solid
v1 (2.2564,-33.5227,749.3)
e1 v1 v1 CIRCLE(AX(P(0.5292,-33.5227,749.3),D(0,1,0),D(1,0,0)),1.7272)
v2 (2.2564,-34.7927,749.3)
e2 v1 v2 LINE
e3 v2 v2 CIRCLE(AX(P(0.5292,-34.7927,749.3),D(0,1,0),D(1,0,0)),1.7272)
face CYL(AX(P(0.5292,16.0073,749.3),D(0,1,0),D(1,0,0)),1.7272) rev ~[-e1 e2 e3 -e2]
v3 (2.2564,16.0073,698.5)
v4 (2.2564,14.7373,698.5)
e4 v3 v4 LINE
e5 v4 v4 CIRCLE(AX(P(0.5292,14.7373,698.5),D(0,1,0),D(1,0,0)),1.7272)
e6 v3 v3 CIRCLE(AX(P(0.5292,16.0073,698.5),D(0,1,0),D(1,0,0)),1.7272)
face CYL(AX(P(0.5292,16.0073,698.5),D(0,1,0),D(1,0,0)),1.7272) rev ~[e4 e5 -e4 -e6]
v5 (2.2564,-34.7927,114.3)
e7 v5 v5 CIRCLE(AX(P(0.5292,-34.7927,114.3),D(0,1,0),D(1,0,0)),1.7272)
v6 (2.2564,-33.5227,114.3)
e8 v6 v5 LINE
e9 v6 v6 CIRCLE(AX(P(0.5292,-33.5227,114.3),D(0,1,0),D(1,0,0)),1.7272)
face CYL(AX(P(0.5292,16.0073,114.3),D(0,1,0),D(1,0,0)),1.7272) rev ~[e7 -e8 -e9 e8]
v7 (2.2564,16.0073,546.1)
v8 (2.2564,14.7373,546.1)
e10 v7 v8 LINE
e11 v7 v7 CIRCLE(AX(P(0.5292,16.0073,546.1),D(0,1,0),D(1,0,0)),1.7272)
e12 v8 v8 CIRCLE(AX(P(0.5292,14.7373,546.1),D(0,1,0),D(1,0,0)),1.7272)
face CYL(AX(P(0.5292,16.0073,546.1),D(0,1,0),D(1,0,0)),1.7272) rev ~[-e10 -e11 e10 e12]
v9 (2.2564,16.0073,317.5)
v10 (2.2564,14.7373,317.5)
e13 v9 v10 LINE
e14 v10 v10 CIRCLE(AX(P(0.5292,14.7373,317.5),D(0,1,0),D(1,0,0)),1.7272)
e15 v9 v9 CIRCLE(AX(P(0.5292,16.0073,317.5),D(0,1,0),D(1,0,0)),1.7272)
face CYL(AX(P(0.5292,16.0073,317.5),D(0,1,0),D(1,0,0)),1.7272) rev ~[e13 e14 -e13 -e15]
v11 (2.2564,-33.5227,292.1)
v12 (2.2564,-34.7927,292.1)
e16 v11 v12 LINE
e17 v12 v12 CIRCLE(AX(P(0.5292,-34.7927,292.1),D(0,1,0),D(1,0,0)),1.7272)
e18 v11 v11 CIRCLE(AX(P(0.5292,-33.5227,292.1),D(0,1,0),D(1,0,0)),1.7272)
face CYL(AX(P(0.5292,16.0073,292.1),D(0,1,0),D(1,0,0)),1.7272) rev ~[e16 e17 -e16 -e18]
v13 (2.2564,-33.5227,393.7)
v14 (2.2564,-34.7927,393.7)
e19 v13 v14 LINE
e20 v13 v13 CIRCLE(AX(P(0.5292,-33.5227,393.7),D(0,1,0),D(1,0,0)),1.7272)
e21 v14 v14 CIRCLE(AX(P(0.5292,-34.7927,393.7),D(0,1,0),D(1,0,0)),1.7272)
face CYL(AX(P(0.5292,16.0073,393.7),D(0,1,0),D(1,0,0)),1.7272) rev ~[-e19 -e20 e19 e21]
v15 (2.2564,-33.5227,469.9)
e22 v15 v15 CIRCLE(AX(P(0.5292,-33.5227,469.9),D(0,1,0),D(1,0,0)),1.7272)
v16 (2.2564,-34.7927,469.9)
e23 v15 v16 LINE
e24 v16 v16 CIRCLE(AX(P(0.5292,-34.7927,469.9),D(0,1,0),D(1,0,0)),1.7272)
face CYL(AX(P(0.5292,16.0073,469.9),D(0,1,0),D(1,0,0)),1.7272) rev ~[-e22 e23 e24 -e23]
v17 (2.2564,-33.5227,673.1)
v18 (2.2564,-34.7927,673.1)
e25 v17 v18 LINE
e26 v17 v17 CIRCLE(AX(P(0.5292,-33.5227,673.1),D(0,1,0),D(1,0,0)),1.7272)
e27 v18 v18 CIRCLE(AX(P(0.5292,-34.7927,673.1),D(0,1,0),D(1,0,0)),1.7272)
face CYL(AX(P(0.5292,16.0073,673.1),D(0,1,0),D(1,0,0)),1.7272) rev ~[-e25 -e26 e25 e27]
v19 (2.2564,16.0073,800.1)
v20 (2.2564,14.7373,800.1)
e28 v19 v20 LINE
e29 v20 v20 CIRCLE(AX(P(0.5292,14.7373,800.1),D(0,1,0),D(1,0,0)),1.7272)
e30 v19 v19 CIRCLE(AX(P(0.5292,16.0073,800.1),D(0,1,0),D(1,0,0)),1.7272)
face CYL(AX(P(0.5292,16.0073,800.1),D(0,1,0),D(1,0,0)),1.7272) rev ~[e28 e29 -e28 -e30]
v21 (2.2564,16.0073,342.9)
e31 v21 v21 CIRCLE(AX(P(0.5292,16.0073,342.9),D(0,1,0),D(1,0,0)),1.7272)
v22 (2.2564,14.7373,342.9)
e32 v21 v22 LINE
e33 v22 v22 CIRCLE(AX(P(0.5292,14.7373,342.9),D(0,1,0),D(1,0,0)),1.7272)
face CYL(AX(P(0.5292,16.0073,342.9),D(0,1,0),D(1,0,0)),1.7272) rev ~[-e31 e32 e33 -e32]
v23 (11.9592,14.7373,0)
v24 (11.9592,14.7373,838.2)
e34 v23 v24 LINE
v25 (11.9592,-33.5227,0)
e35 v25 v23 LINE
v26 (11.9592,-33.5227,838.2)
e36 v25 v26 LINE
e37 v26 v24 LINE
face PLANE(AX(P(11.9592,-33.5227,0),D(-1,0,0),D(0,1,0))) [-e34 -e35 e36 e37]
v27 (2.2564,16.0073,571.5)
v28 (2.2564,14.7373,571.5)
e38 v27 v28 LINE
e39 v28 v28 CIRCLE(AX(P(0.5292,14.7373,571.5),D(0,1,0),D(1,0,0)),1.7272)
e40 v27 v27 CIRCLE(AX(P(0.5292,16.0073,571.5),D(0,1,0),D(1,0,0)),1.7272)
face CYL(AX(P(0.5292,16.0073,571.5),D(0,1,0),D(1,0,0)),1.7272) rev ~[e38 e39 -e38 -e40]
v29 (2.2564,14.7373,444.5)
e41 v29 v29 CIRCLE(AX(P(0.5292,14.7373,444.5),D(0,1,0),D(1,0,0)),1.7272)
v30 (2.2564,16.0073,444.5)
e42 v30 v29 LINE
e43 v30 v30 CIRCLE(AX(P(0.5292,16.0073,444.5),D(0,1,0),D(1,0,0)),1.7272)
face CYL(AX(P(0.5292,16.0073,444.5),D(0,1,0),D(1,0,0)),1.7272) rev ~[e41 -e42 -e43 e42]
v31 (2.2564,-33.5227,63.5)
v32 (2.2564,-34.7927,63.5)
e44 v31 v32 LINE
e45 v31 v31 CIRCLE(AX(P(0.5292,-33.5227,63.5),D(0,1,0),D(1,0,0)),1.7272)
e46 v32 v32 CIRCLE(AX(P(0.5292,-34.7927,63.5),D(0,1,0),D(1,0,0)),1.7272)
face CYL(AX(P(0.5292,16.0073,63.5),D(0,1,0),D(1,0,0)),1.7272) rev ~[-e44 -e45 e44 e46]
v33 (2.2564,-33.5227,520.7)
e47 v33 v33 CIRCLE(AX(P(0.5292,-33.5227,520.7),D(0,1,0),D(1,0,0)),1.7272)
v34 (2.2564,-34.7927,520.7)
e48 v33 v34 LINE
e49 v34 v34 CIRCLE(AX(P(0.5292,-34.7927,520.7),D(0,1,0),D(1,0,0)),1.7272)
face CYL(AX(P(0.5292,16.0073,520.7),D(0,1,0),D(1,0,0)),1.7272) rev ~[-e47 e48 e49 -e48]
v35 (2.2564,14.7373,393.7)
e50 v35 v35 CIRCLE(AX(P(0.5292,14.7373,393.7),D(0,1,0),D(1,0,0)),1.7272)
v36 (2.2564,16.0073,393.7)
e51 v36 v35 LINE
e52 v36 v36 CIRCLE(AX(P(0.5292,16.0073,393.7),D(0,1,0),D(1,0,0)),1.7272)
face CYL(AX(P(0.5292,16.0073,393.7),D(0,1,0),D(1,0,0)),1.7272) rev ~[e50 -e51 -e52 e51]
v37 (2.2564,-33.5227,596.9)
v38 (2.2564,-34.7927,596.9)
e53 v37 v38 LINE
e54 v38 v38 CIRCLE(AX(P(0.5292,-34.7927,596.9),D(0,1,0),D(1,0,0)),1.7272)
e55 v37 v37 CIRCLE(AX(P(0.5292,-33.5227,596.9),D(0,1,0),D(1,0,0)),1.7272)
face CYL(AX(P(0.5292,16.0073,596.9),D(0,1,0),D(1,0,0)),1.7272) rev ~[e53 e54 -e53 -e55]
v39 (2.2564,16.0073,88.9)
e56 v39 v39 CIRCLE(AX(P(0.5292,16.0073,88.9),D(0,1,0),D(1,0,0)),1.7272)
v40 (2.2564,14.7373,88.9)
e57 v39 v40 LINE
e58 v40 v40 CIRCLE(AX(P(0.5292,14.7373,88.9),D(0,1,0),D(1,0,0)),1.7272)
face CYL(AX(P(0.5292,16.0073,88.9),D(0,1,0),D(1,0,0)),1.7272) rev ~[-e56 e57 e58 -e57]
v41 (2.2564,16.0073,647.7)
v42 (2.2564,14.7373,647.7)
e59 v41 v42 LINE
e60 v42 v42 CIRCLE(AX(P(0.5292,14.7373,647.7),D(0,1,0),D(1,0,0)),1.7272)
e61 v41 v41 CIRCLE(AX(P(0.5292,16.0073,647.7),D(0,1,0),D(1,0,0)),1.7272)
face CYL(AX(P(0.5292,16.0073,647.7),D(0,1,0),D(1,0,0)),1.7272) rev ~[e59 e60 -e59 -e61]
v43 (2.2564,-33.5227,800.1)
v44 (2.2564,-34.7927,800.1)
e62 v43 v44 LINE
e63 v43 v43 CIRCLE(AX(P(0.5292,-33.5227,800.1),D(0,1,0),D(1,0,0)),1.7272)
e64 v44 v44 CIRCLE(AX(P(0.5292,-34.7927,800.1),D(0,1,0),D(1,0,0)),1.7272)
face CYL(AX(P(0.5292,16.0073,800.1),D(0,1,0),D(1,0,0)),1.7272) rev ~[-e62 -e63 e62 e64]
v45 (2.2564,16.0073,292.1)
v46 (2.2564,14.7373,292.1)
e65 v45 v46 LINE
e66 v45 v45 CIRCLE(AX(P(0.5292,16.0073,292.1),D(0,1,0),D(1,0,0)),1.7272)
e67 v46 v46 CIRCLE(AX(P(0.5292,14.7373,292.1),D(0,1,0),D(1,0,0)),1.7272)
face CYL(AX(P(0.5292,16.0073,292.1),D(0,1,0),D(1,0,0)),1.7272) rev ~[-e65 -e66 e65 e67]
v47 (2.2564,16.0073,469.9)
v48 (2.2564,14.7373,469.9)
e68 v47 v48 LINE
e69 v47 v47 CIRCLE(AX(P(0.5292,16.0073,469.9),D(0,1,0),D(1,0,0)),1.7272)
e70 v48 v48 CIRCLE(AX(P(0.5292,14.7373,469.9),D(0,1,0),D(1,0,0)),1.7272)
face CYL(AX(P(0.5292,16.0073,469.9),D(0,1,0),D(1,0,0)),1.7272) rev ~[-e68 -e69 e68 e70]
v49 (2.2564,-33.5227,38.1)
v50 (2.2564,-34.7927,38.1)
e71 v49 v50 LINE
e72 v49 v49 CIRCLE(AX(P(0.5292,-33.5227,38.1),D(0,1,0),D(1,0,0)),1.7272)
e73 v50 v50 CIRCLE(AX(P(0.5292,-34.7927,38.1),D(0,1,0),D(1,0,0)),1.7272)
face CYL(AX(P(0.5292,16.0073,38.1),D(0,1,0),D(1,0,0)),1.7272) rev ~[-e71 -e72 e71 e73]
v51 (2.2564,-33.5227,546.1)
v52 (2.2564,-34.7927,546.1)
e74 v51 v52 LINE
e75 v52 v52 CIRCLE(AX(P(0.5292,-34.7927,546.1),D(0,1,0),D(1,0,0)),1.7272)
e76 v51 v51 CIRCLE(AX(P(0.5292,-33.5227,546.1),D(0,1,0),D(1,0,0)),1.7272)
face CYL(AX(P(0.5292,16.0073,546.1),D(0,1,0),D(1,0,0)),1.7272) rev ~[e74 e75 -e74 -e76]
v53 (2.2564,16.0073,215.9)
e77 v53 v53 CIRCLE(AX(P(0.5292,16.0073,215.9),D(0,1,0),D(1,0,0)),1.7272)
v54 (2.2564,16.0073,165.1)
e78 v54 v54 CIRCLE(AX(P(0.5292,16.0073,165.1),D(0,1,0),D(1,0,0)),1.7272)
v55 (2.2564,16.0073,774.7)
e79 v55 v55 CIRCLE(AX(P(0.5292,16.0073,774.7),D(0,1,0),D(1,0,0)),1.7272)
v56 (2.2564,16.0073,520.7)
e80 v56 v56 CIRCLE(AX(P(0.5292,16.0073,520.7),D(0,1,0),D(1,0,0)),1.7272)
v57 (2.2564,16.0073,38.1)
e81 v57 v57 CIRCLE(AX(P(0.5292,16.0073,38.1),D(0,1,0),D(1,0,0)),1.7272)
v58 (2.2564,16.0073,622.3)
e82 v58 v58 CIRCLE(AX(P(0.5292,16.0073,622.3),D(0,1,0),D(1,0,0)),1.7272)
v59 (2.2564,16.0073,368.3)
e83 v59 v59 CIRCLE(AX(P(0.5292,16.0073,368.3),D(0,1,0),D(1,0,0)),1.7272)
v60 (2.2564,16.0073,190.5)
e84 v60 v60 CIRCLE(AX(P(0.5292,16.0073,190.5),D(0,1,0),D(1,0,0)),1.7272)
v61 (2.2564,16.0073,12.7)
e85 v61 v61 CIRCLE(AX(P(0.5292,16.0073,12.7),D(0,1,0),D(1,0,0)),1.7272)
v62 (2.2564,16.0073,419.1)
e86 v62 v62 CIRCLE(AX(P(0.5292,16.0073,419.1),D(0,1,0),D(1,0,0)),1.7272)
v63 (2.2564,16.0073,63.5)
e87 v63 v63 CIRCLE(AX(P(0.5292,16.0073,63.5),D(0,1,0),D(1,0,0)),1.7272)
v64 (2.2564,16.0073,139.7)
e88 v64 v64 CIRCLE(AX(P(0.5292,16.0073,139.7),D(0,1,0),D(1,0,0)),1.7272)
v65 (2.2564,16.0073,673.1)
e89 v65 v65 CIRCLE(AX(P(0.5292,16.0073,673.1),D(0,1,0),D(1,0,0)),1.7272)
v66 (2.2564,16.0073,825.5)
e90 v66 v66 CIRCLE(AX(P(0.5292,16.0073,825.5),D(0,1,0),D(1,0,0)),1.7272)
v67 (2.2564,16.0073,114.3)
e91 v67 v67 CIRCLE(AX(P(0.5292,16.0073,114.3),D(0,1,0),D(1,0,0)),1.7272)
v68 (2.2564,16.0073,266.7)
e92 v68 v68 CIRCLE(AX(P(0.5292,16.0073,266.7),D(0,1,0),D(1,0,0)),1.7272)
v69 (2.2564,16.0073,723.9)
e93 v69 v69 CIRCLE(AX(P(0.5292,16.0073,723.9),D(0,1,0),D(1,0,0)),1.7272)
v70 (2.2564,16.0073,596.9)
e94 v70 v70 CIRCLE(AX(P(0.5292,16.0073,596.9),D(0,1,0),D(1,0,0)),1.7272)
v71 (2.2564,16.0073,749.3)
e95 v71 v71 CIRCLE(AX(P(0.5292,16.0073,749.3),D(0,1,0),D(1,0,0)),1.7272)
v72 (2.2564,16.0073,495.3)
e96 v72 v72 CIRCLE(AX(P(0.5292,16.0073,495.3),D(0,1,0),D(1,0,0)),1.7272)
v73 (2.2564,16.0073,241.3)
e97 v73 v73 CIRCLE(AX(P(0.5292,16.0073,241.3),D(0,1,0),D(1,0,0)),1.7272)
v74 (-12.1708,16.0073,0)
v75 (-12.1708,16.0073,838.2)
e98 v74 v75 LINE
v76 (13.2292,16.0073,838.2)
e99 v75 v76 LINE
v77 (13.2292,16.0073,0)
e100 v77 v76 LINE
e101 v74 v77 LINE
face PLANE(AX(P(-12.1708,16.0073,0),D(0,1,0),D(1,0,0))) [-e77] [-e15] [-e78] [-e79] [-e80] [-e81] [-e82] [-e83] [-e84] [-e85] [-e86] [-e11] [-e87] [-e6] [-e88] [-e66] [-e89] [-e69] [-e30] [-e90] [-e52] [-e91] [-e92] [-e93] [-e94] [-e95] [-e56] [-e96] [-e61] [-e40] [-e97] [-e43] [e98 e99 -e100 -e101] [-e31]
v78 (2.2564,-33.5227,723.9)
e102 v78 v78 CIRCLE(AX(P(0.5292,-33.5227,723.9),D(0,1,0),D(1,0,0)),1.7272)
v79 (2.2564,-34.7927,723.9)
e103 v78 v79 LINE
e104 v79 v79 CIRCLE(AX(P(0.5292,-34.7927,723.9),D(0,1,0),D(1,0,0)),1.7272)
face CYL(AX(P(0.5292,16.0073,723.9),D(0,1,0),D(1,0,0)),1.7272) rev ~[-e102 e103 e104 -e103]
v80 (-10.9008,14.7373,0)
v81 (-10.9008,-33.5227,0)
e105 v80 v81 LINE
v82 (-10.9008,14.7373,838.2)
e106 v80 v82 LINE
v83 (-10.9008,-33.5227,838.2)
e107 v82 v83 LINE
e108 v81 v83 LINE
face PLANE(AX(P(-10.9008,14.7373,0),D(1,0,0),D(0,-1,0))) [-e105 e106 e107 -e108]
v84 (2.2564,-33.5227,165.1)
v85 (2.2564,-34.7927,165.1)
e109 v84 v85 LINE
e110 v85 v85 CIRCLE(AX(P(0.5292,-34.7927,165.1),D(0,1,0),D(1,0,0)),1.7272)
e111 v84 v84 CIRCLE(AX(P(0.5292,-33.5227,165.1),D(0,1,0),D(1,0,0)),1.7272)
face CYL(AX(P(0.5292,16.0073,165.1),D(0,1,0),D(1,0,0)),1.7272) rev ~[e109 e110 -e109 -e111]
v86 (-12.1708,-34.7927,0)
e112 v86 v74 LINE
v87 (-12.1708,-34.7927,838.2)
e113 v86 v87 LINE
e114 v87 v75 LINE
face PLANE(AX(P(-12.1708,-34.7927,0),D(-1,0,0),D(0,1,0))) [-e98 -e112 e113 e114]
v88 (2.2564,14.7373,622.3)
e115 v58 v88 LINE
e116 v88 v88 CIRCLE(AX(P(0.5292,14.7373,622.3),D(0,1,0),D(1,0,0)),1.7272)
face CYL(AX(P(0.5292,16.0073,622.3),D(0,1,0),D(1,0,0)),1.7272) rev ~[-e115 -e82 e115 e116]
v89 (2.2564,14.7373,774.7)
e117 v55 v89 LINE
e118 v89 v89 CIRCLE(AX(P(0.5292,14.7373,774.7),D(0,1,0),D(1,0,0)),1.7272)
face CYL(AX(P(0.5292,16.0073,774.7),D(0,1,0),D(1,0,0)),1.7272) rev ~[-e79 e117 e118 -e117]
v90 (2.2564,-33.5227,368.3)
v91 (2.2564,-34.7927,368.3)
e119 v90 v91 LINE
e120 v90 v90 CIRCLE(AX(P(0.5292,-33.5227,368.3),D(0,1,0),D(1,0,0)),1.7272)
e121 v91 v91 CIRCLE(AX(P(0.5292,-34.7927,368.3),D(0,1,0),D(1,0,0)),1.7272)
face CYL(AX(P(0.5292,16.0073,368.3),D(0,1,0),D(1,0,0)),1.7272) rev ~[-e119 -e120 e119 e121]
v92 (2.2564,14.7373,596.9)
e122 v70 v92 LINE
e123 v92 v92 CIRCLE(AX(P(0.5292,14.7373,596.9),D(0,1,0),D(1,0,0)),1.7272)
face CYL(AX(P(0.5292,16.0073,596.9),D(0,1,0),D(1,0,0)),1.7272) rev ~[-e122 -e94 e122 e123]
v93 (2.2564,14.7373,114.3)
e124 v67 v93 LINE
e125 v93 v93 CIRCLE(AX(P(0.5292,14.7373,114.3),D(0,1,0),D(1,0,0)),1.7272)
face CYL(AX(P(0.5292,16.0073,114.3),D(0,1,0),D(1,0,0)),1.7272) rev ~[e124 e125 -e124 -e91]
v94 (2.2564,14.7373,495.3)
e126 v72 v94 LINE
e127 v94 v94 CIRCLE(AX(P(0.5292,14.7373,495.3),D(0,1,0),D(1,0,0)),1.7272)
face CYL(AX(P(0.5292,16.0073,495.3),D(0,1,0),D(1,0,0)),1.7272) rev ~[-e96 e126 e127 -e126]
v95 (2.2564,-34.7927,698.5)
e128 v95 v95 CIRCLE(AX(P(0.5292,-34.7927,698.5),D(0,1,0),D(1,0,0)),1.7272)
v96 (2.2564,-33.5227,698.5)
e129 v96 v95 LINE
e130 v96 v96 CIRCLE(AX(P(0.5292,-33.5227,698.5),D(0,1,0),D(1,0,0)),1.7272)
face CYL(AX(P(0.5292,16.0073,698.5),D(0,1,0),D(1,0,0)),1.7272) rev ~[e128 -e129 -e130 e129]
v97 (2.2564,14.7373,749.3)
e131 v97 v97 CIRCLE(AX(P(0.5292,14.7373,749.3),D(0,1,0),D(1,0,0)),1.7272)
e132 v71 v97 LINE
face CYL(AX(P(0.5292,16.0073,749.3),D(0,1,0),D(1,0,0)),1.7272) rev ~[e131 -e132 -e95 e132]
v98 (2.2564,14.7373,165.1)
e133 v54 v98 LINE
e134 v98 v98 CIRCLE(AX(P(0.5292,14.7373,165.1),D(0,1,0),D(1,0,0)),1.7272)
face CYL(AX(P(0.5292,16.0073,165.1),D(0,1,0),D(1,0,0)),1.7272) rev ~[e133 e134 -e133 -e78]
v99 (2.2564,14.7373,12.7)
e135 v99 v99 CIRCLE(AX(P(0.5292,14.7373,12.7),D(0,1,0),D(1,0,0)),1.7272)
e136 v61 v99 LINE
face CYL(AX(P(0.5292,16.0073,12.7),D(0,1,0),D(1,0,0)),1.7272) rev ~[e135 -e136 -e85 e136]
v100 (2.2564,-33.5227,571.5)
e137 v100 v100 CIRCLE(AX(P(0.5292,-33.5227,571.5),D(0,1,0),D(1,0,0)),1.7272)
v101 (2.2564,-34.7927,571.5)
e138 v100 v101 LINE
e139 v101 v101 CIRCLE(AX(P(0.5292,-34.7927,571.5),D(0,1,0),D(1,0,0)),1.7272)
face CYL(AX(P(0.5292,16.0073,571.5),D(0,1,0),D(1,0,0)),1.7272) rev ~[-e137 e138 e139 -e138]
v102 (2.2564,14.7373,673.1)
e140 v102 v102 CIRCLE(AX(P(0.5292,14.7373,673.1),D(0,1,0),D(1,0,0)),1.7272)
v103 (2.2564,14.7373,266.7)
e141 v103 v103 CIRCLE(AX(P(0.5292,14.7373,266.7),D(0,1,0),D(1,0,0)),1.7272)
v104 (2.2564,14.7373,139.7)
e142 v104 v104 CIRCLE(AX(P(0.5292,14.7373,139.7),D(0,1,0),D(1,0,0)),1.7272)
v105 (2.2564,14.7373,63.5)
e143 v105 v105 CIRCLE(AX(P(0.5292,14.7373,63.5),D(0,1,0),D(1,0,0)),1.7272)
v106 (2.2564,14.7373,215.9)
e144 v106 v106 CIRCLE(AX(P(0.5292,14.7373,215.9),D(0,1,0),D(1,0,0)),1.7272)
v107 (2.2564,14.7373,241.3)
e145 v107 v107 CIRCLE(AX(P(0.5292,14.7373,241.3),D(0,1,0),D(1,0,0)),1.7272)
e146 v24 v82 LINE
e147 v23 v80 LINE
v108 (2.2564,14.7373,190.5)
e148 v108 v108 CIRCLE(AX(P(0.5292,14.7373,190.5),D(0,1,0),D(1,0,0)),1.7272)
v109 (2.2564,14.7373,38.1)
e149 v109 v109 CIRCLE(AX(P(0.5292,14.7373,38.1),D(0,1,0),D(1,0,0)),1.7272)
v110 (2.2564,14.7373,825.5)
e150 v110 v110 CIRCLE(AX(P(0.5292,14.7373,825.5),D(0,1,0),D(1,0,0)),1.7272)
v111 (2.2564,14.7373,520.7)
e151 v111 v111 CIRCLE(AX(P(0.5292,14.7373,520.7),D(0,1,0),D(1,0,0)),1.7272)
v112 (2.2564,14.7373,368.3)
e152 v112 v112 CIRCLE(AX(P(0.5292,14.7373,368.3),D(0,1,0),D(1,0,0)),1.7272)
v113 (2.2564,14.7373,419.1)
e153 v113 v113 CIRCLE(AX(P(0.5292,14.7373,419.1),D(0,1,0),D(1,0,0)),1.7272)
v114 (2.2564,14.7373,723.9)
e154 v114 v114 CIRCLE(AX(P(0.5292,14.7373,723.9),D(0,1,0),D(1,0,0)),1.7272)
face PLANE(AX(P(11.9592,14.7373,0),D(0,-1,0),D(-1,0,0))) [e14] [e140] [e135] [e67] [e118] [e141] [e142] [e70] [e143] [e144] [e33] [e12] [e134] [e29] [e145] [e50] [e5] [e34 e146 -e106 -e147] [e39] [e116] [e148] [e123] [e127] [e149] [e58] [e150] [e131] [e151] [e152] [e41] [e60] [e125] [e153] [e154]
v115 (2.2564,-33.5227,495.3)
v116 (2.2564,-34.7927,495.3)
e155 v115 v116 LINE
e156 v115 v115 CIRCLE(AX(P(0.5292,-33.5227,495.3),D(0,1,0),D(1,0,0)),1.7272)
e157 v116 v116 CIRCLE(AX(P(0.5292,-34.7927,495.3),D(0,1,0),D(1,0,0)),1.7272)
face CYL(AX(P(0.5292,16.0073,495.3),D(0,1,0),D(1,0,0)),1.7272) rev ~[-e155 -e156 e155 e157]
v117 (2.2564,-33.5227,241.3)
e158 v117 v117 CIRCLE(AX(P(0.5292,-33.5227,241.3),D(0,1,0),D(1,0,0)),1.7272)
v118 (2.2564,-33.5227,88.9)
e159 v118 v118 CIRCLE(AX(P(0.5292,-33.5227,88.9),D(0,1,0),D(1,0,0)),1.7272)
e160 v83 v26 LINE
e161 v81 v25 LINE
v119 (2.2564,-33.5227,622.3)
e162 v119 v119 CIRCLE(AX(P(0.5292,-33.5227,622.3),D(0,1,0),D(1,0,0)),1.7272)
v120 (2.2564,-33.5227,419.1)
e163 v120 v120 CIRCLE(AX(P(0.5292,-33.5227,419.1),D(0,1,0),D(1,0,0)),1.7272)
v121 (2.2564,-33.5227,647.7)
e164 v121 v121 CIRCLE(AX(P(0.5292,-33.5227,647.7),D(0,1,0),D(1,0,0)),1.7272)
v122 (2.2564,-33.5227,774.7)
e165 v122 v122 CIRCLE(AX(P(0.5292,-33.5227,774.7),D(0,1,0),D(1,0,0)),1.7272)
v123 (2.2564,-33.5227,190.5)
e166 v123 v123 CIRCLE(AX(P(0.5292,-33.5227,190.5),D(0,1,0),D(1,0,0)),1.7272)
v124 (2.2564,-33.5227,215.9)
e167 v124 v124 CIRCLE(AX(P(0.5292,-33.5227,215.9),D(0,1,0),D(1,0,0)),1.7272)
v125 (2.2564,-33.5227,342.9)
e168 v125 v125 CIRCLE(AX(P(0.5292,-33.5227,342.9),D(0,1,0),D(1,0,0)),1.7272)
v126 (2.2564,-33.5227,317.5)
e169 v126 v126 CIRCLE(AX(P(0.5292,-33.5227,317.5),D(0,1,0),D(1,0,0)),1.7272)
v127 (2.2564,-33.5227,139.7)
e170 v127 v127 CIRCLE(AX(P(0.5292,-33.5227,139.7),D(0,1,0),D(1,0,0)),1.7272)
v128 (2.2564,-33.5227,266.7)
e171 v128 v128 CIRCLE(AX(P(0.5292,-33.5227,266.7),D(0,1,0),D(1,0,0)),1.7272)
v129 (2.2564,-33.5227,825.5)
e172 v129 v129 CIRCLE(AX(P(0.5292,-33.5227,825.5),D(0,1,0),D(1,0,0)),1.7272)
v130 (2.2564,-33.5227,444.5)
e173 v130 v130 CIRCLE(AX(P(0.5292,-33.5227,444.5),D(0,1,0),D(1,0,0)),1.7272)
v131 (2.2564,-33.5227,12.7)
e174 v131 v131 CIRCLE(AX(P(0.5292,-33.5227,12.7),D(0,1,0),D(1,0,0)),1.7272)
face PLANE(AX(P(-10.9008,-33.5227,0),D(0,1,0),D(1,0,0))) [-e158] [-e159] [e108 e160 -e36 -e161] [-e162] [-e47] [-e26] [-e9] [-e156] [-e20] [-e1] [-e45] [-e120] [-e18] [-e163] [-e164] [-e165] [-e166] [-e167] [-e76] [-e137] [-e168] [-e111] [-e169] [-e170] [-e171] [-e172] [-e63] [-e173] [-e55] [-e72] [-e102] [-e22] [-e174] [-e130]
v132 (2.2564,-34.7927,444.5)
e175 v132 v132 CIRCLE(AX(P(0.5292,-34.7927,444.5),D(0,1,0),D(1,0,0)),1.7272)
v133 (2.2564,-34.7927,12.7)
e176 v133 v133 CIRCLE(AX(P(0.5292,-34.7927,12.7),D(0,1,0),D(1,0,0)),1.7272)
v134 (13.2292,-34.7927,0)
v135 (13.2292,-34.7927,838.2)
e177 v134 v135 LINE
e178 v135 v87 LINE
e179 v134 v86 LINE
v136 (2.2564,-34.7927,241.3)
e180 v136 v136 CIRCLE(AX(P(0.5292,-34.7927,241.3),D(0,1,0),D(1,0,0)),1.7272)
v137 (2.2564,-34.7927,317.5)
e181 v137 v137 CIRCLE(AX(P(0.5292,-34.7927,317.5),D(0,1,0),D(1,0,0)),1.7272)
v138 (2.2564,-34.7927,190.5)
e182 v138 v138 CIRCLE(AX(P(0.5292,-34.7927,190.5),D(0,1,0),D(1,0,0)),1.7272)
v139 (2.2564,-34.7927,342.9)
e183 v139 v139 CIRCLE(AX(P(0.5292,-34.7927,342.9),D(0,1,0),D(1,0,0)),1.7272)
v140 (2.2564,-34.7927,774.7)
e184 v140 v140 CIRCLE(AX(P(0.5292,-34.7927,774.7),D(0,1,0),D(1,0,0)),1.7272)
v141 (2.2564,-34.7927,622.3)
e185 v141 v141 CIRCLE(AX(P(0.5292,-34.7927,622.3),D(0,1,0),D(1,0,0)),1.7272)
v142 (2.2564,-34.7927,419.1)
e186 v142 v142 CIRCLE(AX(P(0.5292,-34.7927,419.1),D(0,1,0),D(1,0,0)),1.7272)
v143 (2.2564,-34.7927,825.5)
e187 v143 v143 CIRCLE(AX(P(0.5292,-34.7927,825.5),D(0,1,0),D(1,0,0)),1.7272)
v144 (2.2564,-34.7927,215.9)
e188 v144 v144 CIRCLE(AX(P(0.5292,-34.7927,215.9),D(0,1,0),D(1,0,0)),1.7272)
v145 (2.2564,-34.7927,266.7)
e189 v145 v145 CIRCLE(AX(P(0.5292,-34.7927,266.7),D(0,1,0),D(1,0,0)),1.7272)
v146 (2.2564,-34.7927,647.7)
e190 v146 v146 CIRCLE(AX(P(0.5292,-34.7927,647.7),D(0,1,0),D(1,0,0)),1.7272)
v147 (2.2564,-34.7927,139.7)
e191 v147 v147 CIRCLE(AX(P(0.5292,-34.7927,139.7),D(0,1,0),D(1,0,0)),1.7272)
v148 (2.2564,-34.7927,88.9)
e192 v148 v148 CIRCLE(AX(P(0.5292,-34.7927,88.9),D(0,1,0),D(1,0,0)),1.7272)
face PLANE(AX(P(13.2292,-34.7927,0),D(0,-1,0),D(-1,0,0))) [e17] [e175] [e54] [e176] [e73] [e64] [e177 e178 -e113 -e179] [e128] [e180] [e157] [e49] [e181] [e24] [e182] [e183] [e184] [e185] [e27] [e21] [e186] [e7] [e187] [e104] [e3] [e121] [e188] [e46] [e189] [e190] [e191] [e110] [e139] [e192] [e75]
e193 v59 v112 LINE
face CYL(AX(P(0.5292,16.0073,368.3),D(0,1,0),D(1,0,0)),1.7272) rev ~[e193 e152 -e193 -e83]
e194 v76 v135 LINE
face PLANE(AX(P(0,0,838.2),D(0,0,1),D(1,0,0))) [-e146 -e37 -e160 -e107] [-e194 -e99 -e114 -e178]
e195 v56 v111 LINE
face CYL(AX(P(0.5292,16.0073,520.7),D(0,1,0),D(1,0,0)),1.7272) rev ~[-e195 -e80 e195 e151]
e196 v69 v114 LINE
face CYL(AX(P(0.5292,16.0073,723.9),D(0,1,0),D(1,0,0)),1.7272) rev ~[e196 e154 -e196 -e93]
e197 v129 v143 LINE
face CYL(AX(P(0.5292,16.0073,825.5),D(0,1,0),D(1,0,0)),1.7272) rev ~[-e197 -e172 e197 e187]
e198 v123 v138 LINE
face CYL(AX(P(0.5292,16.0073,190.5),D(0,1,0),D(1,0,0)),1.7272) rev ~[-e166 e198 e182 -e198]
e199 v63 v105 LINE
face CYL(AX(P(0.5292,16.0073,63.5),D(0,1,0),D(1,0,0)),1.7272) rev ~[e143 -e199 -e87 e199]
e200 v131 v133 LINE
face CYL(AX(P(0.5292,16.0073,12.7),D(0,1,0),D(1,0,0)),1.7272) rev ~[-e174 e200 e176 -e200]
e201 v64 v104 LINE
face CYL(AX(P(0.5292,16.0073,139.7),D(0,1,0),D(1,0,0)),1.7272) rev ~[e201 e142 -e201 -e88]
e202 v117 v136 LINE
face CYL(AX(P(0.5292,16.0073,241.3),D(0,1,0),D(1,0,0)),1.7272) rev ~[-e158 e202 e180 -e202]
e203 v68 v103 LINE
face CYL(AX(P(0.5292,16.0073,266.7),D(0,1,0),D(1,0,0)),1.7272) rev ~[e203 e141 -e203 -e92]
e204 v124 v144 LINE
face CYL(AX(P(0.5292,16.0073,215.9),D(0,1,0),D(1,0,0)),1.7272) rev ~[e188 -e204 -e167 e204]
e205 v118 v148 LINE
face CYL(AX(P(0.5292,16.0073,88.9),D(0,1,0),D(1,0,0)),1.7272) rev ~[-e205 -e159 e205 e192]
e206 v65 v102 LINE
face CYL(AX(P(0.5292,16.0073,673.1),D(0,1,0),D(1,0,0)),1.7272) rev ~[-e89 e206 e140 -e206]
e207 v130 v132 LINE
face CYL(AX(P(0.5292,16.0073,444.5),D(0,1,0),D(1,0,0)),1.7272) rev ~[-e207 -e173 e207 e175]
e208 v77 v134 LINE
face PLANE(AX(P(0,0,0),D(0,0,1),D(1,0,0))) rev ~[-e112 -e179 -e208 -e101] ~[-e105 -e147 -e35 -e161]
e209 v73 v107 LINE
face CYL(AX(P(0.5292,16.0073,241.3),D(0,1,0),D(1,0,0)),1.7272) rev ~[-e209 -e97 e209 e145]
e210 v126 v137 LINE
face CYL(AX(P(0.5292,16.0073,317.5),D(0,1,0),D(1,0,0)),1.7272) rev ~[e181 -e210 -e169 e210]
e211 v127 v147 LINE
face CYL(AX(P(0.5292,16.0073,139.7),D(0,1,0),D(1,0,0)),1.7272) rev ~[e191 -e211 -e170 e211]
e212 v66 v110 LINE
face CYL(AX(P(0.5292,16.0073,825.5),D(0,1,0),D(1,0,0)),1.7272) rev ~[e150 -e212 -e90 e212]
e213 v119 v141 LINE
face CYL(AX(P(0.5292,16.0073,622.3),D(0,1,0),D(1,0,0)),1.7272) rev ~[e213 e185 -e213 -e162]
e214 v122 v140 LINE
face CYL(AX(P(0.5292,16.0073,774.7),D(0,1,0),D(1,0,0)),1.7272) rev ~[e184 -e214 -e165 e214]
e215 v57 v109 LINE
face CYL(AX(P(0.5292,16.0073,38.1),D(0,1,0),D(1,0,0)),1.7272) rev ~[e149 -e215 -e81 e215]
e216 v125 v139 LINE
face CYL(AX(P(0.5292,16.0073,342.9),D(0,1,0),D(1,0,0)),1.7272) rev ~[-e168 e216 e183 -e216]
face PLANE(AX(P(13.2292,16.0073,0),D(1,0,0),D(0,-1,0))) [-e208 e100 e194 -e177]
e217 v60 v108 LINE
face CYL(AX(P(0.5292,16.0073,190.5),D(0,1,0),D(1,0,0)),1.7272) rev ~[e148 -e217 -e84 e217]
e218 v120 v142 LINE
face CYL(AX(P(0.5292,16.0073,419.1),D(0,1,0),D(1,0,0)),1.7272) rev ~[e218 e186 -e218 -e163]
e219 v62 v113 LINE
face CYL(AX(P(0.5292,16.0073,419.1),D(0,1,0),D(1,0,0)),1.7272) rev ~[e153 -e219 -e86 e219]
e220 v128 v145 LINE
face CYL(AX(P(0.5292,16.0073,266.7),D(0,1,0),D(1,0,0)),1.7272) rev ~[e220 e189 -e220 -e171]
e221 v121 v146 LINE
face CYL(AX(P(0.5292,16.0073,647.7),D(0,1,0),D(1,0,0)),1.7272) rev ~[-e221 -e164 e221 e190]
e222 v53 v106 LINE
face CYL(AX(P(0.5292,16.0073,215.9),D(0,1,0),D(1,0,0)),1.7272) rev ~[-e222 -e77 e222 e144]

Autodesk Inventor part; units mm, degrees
ref_plane "YZ Plane" through (0, 0, 0) normal (1, 0, 0) x (0, 1, 0)
ref_plane "XZ Plane" through (0, 0, 0) normal (0, 1, 0) x (-1, 0, 0)
ref_plane "XY Plane" through (0, 0, 0) normal (0, 0, 1) x (1, 0, 0)
sketch "Sketch1" plane through (0, 0, 0) normal (0, 0, 1) x (1, 0, 0)
  line L0 (-12.1708, 16.0073) -> (13.2292, 16.0073)
  line L1 (13.2292, 16.0073) -> (13.2292, -34.7927)
  line L2 (13.2292, -34.7927) -> (-12.1708, -34.7927)
  line L3 (-12.1708, -34.7927) -> (-12.1708, 16.0073)
  line L4 (11.9592, 14.7373) -> (-10.9008, 14.7373)
  line L5 (-10.9008, 14.7373) -> (-10.9008, -33.5227)
  line L6 (-10.9008, -33.5227) -> (11.9592, -33.5227)
  line L7 (11.9592, -33.5227) -> (11.9592, 14.7373)
  point P0 (0, 0)
  dimension "d0" = 25.4
  dimension "d1" = 50.8
  dimension "d2" = 1.27
extrude "Extrusion1" add sketch "Sketch1" along normal blind 838.2
sketch "Sketch2" plane through (-12.1708, 16.0073, 0) normal (0, 1, 0) x (1, 0, 0)
  circle A0 centre (12.7, -12.7) radius 1.7272
  line L0 (25.4, 0) -> (0, 0) projected
  line L1 (0, 0) -> (0, -838.2) projected
  point P0 (12.1708, 0)
  dimension "d5" = 3.4544
  dimension "d6" = 12.7
  dimension "d7" = 12.7
extrude "Extrusion2" cut sketch "Sketch2" against normal through all
pattern_linear "Rectangular Pattern1" count 84 spacing 25.4 along (0, 0, 1) of "Extrusion2"
equation "\"d3\" = d13"
equation "\"d10\" = d14"
equation "\"d13\" = 838.2"
equation "\"d14\" = d13"
properties part number "VersaFrame (LongCrossBars)"
